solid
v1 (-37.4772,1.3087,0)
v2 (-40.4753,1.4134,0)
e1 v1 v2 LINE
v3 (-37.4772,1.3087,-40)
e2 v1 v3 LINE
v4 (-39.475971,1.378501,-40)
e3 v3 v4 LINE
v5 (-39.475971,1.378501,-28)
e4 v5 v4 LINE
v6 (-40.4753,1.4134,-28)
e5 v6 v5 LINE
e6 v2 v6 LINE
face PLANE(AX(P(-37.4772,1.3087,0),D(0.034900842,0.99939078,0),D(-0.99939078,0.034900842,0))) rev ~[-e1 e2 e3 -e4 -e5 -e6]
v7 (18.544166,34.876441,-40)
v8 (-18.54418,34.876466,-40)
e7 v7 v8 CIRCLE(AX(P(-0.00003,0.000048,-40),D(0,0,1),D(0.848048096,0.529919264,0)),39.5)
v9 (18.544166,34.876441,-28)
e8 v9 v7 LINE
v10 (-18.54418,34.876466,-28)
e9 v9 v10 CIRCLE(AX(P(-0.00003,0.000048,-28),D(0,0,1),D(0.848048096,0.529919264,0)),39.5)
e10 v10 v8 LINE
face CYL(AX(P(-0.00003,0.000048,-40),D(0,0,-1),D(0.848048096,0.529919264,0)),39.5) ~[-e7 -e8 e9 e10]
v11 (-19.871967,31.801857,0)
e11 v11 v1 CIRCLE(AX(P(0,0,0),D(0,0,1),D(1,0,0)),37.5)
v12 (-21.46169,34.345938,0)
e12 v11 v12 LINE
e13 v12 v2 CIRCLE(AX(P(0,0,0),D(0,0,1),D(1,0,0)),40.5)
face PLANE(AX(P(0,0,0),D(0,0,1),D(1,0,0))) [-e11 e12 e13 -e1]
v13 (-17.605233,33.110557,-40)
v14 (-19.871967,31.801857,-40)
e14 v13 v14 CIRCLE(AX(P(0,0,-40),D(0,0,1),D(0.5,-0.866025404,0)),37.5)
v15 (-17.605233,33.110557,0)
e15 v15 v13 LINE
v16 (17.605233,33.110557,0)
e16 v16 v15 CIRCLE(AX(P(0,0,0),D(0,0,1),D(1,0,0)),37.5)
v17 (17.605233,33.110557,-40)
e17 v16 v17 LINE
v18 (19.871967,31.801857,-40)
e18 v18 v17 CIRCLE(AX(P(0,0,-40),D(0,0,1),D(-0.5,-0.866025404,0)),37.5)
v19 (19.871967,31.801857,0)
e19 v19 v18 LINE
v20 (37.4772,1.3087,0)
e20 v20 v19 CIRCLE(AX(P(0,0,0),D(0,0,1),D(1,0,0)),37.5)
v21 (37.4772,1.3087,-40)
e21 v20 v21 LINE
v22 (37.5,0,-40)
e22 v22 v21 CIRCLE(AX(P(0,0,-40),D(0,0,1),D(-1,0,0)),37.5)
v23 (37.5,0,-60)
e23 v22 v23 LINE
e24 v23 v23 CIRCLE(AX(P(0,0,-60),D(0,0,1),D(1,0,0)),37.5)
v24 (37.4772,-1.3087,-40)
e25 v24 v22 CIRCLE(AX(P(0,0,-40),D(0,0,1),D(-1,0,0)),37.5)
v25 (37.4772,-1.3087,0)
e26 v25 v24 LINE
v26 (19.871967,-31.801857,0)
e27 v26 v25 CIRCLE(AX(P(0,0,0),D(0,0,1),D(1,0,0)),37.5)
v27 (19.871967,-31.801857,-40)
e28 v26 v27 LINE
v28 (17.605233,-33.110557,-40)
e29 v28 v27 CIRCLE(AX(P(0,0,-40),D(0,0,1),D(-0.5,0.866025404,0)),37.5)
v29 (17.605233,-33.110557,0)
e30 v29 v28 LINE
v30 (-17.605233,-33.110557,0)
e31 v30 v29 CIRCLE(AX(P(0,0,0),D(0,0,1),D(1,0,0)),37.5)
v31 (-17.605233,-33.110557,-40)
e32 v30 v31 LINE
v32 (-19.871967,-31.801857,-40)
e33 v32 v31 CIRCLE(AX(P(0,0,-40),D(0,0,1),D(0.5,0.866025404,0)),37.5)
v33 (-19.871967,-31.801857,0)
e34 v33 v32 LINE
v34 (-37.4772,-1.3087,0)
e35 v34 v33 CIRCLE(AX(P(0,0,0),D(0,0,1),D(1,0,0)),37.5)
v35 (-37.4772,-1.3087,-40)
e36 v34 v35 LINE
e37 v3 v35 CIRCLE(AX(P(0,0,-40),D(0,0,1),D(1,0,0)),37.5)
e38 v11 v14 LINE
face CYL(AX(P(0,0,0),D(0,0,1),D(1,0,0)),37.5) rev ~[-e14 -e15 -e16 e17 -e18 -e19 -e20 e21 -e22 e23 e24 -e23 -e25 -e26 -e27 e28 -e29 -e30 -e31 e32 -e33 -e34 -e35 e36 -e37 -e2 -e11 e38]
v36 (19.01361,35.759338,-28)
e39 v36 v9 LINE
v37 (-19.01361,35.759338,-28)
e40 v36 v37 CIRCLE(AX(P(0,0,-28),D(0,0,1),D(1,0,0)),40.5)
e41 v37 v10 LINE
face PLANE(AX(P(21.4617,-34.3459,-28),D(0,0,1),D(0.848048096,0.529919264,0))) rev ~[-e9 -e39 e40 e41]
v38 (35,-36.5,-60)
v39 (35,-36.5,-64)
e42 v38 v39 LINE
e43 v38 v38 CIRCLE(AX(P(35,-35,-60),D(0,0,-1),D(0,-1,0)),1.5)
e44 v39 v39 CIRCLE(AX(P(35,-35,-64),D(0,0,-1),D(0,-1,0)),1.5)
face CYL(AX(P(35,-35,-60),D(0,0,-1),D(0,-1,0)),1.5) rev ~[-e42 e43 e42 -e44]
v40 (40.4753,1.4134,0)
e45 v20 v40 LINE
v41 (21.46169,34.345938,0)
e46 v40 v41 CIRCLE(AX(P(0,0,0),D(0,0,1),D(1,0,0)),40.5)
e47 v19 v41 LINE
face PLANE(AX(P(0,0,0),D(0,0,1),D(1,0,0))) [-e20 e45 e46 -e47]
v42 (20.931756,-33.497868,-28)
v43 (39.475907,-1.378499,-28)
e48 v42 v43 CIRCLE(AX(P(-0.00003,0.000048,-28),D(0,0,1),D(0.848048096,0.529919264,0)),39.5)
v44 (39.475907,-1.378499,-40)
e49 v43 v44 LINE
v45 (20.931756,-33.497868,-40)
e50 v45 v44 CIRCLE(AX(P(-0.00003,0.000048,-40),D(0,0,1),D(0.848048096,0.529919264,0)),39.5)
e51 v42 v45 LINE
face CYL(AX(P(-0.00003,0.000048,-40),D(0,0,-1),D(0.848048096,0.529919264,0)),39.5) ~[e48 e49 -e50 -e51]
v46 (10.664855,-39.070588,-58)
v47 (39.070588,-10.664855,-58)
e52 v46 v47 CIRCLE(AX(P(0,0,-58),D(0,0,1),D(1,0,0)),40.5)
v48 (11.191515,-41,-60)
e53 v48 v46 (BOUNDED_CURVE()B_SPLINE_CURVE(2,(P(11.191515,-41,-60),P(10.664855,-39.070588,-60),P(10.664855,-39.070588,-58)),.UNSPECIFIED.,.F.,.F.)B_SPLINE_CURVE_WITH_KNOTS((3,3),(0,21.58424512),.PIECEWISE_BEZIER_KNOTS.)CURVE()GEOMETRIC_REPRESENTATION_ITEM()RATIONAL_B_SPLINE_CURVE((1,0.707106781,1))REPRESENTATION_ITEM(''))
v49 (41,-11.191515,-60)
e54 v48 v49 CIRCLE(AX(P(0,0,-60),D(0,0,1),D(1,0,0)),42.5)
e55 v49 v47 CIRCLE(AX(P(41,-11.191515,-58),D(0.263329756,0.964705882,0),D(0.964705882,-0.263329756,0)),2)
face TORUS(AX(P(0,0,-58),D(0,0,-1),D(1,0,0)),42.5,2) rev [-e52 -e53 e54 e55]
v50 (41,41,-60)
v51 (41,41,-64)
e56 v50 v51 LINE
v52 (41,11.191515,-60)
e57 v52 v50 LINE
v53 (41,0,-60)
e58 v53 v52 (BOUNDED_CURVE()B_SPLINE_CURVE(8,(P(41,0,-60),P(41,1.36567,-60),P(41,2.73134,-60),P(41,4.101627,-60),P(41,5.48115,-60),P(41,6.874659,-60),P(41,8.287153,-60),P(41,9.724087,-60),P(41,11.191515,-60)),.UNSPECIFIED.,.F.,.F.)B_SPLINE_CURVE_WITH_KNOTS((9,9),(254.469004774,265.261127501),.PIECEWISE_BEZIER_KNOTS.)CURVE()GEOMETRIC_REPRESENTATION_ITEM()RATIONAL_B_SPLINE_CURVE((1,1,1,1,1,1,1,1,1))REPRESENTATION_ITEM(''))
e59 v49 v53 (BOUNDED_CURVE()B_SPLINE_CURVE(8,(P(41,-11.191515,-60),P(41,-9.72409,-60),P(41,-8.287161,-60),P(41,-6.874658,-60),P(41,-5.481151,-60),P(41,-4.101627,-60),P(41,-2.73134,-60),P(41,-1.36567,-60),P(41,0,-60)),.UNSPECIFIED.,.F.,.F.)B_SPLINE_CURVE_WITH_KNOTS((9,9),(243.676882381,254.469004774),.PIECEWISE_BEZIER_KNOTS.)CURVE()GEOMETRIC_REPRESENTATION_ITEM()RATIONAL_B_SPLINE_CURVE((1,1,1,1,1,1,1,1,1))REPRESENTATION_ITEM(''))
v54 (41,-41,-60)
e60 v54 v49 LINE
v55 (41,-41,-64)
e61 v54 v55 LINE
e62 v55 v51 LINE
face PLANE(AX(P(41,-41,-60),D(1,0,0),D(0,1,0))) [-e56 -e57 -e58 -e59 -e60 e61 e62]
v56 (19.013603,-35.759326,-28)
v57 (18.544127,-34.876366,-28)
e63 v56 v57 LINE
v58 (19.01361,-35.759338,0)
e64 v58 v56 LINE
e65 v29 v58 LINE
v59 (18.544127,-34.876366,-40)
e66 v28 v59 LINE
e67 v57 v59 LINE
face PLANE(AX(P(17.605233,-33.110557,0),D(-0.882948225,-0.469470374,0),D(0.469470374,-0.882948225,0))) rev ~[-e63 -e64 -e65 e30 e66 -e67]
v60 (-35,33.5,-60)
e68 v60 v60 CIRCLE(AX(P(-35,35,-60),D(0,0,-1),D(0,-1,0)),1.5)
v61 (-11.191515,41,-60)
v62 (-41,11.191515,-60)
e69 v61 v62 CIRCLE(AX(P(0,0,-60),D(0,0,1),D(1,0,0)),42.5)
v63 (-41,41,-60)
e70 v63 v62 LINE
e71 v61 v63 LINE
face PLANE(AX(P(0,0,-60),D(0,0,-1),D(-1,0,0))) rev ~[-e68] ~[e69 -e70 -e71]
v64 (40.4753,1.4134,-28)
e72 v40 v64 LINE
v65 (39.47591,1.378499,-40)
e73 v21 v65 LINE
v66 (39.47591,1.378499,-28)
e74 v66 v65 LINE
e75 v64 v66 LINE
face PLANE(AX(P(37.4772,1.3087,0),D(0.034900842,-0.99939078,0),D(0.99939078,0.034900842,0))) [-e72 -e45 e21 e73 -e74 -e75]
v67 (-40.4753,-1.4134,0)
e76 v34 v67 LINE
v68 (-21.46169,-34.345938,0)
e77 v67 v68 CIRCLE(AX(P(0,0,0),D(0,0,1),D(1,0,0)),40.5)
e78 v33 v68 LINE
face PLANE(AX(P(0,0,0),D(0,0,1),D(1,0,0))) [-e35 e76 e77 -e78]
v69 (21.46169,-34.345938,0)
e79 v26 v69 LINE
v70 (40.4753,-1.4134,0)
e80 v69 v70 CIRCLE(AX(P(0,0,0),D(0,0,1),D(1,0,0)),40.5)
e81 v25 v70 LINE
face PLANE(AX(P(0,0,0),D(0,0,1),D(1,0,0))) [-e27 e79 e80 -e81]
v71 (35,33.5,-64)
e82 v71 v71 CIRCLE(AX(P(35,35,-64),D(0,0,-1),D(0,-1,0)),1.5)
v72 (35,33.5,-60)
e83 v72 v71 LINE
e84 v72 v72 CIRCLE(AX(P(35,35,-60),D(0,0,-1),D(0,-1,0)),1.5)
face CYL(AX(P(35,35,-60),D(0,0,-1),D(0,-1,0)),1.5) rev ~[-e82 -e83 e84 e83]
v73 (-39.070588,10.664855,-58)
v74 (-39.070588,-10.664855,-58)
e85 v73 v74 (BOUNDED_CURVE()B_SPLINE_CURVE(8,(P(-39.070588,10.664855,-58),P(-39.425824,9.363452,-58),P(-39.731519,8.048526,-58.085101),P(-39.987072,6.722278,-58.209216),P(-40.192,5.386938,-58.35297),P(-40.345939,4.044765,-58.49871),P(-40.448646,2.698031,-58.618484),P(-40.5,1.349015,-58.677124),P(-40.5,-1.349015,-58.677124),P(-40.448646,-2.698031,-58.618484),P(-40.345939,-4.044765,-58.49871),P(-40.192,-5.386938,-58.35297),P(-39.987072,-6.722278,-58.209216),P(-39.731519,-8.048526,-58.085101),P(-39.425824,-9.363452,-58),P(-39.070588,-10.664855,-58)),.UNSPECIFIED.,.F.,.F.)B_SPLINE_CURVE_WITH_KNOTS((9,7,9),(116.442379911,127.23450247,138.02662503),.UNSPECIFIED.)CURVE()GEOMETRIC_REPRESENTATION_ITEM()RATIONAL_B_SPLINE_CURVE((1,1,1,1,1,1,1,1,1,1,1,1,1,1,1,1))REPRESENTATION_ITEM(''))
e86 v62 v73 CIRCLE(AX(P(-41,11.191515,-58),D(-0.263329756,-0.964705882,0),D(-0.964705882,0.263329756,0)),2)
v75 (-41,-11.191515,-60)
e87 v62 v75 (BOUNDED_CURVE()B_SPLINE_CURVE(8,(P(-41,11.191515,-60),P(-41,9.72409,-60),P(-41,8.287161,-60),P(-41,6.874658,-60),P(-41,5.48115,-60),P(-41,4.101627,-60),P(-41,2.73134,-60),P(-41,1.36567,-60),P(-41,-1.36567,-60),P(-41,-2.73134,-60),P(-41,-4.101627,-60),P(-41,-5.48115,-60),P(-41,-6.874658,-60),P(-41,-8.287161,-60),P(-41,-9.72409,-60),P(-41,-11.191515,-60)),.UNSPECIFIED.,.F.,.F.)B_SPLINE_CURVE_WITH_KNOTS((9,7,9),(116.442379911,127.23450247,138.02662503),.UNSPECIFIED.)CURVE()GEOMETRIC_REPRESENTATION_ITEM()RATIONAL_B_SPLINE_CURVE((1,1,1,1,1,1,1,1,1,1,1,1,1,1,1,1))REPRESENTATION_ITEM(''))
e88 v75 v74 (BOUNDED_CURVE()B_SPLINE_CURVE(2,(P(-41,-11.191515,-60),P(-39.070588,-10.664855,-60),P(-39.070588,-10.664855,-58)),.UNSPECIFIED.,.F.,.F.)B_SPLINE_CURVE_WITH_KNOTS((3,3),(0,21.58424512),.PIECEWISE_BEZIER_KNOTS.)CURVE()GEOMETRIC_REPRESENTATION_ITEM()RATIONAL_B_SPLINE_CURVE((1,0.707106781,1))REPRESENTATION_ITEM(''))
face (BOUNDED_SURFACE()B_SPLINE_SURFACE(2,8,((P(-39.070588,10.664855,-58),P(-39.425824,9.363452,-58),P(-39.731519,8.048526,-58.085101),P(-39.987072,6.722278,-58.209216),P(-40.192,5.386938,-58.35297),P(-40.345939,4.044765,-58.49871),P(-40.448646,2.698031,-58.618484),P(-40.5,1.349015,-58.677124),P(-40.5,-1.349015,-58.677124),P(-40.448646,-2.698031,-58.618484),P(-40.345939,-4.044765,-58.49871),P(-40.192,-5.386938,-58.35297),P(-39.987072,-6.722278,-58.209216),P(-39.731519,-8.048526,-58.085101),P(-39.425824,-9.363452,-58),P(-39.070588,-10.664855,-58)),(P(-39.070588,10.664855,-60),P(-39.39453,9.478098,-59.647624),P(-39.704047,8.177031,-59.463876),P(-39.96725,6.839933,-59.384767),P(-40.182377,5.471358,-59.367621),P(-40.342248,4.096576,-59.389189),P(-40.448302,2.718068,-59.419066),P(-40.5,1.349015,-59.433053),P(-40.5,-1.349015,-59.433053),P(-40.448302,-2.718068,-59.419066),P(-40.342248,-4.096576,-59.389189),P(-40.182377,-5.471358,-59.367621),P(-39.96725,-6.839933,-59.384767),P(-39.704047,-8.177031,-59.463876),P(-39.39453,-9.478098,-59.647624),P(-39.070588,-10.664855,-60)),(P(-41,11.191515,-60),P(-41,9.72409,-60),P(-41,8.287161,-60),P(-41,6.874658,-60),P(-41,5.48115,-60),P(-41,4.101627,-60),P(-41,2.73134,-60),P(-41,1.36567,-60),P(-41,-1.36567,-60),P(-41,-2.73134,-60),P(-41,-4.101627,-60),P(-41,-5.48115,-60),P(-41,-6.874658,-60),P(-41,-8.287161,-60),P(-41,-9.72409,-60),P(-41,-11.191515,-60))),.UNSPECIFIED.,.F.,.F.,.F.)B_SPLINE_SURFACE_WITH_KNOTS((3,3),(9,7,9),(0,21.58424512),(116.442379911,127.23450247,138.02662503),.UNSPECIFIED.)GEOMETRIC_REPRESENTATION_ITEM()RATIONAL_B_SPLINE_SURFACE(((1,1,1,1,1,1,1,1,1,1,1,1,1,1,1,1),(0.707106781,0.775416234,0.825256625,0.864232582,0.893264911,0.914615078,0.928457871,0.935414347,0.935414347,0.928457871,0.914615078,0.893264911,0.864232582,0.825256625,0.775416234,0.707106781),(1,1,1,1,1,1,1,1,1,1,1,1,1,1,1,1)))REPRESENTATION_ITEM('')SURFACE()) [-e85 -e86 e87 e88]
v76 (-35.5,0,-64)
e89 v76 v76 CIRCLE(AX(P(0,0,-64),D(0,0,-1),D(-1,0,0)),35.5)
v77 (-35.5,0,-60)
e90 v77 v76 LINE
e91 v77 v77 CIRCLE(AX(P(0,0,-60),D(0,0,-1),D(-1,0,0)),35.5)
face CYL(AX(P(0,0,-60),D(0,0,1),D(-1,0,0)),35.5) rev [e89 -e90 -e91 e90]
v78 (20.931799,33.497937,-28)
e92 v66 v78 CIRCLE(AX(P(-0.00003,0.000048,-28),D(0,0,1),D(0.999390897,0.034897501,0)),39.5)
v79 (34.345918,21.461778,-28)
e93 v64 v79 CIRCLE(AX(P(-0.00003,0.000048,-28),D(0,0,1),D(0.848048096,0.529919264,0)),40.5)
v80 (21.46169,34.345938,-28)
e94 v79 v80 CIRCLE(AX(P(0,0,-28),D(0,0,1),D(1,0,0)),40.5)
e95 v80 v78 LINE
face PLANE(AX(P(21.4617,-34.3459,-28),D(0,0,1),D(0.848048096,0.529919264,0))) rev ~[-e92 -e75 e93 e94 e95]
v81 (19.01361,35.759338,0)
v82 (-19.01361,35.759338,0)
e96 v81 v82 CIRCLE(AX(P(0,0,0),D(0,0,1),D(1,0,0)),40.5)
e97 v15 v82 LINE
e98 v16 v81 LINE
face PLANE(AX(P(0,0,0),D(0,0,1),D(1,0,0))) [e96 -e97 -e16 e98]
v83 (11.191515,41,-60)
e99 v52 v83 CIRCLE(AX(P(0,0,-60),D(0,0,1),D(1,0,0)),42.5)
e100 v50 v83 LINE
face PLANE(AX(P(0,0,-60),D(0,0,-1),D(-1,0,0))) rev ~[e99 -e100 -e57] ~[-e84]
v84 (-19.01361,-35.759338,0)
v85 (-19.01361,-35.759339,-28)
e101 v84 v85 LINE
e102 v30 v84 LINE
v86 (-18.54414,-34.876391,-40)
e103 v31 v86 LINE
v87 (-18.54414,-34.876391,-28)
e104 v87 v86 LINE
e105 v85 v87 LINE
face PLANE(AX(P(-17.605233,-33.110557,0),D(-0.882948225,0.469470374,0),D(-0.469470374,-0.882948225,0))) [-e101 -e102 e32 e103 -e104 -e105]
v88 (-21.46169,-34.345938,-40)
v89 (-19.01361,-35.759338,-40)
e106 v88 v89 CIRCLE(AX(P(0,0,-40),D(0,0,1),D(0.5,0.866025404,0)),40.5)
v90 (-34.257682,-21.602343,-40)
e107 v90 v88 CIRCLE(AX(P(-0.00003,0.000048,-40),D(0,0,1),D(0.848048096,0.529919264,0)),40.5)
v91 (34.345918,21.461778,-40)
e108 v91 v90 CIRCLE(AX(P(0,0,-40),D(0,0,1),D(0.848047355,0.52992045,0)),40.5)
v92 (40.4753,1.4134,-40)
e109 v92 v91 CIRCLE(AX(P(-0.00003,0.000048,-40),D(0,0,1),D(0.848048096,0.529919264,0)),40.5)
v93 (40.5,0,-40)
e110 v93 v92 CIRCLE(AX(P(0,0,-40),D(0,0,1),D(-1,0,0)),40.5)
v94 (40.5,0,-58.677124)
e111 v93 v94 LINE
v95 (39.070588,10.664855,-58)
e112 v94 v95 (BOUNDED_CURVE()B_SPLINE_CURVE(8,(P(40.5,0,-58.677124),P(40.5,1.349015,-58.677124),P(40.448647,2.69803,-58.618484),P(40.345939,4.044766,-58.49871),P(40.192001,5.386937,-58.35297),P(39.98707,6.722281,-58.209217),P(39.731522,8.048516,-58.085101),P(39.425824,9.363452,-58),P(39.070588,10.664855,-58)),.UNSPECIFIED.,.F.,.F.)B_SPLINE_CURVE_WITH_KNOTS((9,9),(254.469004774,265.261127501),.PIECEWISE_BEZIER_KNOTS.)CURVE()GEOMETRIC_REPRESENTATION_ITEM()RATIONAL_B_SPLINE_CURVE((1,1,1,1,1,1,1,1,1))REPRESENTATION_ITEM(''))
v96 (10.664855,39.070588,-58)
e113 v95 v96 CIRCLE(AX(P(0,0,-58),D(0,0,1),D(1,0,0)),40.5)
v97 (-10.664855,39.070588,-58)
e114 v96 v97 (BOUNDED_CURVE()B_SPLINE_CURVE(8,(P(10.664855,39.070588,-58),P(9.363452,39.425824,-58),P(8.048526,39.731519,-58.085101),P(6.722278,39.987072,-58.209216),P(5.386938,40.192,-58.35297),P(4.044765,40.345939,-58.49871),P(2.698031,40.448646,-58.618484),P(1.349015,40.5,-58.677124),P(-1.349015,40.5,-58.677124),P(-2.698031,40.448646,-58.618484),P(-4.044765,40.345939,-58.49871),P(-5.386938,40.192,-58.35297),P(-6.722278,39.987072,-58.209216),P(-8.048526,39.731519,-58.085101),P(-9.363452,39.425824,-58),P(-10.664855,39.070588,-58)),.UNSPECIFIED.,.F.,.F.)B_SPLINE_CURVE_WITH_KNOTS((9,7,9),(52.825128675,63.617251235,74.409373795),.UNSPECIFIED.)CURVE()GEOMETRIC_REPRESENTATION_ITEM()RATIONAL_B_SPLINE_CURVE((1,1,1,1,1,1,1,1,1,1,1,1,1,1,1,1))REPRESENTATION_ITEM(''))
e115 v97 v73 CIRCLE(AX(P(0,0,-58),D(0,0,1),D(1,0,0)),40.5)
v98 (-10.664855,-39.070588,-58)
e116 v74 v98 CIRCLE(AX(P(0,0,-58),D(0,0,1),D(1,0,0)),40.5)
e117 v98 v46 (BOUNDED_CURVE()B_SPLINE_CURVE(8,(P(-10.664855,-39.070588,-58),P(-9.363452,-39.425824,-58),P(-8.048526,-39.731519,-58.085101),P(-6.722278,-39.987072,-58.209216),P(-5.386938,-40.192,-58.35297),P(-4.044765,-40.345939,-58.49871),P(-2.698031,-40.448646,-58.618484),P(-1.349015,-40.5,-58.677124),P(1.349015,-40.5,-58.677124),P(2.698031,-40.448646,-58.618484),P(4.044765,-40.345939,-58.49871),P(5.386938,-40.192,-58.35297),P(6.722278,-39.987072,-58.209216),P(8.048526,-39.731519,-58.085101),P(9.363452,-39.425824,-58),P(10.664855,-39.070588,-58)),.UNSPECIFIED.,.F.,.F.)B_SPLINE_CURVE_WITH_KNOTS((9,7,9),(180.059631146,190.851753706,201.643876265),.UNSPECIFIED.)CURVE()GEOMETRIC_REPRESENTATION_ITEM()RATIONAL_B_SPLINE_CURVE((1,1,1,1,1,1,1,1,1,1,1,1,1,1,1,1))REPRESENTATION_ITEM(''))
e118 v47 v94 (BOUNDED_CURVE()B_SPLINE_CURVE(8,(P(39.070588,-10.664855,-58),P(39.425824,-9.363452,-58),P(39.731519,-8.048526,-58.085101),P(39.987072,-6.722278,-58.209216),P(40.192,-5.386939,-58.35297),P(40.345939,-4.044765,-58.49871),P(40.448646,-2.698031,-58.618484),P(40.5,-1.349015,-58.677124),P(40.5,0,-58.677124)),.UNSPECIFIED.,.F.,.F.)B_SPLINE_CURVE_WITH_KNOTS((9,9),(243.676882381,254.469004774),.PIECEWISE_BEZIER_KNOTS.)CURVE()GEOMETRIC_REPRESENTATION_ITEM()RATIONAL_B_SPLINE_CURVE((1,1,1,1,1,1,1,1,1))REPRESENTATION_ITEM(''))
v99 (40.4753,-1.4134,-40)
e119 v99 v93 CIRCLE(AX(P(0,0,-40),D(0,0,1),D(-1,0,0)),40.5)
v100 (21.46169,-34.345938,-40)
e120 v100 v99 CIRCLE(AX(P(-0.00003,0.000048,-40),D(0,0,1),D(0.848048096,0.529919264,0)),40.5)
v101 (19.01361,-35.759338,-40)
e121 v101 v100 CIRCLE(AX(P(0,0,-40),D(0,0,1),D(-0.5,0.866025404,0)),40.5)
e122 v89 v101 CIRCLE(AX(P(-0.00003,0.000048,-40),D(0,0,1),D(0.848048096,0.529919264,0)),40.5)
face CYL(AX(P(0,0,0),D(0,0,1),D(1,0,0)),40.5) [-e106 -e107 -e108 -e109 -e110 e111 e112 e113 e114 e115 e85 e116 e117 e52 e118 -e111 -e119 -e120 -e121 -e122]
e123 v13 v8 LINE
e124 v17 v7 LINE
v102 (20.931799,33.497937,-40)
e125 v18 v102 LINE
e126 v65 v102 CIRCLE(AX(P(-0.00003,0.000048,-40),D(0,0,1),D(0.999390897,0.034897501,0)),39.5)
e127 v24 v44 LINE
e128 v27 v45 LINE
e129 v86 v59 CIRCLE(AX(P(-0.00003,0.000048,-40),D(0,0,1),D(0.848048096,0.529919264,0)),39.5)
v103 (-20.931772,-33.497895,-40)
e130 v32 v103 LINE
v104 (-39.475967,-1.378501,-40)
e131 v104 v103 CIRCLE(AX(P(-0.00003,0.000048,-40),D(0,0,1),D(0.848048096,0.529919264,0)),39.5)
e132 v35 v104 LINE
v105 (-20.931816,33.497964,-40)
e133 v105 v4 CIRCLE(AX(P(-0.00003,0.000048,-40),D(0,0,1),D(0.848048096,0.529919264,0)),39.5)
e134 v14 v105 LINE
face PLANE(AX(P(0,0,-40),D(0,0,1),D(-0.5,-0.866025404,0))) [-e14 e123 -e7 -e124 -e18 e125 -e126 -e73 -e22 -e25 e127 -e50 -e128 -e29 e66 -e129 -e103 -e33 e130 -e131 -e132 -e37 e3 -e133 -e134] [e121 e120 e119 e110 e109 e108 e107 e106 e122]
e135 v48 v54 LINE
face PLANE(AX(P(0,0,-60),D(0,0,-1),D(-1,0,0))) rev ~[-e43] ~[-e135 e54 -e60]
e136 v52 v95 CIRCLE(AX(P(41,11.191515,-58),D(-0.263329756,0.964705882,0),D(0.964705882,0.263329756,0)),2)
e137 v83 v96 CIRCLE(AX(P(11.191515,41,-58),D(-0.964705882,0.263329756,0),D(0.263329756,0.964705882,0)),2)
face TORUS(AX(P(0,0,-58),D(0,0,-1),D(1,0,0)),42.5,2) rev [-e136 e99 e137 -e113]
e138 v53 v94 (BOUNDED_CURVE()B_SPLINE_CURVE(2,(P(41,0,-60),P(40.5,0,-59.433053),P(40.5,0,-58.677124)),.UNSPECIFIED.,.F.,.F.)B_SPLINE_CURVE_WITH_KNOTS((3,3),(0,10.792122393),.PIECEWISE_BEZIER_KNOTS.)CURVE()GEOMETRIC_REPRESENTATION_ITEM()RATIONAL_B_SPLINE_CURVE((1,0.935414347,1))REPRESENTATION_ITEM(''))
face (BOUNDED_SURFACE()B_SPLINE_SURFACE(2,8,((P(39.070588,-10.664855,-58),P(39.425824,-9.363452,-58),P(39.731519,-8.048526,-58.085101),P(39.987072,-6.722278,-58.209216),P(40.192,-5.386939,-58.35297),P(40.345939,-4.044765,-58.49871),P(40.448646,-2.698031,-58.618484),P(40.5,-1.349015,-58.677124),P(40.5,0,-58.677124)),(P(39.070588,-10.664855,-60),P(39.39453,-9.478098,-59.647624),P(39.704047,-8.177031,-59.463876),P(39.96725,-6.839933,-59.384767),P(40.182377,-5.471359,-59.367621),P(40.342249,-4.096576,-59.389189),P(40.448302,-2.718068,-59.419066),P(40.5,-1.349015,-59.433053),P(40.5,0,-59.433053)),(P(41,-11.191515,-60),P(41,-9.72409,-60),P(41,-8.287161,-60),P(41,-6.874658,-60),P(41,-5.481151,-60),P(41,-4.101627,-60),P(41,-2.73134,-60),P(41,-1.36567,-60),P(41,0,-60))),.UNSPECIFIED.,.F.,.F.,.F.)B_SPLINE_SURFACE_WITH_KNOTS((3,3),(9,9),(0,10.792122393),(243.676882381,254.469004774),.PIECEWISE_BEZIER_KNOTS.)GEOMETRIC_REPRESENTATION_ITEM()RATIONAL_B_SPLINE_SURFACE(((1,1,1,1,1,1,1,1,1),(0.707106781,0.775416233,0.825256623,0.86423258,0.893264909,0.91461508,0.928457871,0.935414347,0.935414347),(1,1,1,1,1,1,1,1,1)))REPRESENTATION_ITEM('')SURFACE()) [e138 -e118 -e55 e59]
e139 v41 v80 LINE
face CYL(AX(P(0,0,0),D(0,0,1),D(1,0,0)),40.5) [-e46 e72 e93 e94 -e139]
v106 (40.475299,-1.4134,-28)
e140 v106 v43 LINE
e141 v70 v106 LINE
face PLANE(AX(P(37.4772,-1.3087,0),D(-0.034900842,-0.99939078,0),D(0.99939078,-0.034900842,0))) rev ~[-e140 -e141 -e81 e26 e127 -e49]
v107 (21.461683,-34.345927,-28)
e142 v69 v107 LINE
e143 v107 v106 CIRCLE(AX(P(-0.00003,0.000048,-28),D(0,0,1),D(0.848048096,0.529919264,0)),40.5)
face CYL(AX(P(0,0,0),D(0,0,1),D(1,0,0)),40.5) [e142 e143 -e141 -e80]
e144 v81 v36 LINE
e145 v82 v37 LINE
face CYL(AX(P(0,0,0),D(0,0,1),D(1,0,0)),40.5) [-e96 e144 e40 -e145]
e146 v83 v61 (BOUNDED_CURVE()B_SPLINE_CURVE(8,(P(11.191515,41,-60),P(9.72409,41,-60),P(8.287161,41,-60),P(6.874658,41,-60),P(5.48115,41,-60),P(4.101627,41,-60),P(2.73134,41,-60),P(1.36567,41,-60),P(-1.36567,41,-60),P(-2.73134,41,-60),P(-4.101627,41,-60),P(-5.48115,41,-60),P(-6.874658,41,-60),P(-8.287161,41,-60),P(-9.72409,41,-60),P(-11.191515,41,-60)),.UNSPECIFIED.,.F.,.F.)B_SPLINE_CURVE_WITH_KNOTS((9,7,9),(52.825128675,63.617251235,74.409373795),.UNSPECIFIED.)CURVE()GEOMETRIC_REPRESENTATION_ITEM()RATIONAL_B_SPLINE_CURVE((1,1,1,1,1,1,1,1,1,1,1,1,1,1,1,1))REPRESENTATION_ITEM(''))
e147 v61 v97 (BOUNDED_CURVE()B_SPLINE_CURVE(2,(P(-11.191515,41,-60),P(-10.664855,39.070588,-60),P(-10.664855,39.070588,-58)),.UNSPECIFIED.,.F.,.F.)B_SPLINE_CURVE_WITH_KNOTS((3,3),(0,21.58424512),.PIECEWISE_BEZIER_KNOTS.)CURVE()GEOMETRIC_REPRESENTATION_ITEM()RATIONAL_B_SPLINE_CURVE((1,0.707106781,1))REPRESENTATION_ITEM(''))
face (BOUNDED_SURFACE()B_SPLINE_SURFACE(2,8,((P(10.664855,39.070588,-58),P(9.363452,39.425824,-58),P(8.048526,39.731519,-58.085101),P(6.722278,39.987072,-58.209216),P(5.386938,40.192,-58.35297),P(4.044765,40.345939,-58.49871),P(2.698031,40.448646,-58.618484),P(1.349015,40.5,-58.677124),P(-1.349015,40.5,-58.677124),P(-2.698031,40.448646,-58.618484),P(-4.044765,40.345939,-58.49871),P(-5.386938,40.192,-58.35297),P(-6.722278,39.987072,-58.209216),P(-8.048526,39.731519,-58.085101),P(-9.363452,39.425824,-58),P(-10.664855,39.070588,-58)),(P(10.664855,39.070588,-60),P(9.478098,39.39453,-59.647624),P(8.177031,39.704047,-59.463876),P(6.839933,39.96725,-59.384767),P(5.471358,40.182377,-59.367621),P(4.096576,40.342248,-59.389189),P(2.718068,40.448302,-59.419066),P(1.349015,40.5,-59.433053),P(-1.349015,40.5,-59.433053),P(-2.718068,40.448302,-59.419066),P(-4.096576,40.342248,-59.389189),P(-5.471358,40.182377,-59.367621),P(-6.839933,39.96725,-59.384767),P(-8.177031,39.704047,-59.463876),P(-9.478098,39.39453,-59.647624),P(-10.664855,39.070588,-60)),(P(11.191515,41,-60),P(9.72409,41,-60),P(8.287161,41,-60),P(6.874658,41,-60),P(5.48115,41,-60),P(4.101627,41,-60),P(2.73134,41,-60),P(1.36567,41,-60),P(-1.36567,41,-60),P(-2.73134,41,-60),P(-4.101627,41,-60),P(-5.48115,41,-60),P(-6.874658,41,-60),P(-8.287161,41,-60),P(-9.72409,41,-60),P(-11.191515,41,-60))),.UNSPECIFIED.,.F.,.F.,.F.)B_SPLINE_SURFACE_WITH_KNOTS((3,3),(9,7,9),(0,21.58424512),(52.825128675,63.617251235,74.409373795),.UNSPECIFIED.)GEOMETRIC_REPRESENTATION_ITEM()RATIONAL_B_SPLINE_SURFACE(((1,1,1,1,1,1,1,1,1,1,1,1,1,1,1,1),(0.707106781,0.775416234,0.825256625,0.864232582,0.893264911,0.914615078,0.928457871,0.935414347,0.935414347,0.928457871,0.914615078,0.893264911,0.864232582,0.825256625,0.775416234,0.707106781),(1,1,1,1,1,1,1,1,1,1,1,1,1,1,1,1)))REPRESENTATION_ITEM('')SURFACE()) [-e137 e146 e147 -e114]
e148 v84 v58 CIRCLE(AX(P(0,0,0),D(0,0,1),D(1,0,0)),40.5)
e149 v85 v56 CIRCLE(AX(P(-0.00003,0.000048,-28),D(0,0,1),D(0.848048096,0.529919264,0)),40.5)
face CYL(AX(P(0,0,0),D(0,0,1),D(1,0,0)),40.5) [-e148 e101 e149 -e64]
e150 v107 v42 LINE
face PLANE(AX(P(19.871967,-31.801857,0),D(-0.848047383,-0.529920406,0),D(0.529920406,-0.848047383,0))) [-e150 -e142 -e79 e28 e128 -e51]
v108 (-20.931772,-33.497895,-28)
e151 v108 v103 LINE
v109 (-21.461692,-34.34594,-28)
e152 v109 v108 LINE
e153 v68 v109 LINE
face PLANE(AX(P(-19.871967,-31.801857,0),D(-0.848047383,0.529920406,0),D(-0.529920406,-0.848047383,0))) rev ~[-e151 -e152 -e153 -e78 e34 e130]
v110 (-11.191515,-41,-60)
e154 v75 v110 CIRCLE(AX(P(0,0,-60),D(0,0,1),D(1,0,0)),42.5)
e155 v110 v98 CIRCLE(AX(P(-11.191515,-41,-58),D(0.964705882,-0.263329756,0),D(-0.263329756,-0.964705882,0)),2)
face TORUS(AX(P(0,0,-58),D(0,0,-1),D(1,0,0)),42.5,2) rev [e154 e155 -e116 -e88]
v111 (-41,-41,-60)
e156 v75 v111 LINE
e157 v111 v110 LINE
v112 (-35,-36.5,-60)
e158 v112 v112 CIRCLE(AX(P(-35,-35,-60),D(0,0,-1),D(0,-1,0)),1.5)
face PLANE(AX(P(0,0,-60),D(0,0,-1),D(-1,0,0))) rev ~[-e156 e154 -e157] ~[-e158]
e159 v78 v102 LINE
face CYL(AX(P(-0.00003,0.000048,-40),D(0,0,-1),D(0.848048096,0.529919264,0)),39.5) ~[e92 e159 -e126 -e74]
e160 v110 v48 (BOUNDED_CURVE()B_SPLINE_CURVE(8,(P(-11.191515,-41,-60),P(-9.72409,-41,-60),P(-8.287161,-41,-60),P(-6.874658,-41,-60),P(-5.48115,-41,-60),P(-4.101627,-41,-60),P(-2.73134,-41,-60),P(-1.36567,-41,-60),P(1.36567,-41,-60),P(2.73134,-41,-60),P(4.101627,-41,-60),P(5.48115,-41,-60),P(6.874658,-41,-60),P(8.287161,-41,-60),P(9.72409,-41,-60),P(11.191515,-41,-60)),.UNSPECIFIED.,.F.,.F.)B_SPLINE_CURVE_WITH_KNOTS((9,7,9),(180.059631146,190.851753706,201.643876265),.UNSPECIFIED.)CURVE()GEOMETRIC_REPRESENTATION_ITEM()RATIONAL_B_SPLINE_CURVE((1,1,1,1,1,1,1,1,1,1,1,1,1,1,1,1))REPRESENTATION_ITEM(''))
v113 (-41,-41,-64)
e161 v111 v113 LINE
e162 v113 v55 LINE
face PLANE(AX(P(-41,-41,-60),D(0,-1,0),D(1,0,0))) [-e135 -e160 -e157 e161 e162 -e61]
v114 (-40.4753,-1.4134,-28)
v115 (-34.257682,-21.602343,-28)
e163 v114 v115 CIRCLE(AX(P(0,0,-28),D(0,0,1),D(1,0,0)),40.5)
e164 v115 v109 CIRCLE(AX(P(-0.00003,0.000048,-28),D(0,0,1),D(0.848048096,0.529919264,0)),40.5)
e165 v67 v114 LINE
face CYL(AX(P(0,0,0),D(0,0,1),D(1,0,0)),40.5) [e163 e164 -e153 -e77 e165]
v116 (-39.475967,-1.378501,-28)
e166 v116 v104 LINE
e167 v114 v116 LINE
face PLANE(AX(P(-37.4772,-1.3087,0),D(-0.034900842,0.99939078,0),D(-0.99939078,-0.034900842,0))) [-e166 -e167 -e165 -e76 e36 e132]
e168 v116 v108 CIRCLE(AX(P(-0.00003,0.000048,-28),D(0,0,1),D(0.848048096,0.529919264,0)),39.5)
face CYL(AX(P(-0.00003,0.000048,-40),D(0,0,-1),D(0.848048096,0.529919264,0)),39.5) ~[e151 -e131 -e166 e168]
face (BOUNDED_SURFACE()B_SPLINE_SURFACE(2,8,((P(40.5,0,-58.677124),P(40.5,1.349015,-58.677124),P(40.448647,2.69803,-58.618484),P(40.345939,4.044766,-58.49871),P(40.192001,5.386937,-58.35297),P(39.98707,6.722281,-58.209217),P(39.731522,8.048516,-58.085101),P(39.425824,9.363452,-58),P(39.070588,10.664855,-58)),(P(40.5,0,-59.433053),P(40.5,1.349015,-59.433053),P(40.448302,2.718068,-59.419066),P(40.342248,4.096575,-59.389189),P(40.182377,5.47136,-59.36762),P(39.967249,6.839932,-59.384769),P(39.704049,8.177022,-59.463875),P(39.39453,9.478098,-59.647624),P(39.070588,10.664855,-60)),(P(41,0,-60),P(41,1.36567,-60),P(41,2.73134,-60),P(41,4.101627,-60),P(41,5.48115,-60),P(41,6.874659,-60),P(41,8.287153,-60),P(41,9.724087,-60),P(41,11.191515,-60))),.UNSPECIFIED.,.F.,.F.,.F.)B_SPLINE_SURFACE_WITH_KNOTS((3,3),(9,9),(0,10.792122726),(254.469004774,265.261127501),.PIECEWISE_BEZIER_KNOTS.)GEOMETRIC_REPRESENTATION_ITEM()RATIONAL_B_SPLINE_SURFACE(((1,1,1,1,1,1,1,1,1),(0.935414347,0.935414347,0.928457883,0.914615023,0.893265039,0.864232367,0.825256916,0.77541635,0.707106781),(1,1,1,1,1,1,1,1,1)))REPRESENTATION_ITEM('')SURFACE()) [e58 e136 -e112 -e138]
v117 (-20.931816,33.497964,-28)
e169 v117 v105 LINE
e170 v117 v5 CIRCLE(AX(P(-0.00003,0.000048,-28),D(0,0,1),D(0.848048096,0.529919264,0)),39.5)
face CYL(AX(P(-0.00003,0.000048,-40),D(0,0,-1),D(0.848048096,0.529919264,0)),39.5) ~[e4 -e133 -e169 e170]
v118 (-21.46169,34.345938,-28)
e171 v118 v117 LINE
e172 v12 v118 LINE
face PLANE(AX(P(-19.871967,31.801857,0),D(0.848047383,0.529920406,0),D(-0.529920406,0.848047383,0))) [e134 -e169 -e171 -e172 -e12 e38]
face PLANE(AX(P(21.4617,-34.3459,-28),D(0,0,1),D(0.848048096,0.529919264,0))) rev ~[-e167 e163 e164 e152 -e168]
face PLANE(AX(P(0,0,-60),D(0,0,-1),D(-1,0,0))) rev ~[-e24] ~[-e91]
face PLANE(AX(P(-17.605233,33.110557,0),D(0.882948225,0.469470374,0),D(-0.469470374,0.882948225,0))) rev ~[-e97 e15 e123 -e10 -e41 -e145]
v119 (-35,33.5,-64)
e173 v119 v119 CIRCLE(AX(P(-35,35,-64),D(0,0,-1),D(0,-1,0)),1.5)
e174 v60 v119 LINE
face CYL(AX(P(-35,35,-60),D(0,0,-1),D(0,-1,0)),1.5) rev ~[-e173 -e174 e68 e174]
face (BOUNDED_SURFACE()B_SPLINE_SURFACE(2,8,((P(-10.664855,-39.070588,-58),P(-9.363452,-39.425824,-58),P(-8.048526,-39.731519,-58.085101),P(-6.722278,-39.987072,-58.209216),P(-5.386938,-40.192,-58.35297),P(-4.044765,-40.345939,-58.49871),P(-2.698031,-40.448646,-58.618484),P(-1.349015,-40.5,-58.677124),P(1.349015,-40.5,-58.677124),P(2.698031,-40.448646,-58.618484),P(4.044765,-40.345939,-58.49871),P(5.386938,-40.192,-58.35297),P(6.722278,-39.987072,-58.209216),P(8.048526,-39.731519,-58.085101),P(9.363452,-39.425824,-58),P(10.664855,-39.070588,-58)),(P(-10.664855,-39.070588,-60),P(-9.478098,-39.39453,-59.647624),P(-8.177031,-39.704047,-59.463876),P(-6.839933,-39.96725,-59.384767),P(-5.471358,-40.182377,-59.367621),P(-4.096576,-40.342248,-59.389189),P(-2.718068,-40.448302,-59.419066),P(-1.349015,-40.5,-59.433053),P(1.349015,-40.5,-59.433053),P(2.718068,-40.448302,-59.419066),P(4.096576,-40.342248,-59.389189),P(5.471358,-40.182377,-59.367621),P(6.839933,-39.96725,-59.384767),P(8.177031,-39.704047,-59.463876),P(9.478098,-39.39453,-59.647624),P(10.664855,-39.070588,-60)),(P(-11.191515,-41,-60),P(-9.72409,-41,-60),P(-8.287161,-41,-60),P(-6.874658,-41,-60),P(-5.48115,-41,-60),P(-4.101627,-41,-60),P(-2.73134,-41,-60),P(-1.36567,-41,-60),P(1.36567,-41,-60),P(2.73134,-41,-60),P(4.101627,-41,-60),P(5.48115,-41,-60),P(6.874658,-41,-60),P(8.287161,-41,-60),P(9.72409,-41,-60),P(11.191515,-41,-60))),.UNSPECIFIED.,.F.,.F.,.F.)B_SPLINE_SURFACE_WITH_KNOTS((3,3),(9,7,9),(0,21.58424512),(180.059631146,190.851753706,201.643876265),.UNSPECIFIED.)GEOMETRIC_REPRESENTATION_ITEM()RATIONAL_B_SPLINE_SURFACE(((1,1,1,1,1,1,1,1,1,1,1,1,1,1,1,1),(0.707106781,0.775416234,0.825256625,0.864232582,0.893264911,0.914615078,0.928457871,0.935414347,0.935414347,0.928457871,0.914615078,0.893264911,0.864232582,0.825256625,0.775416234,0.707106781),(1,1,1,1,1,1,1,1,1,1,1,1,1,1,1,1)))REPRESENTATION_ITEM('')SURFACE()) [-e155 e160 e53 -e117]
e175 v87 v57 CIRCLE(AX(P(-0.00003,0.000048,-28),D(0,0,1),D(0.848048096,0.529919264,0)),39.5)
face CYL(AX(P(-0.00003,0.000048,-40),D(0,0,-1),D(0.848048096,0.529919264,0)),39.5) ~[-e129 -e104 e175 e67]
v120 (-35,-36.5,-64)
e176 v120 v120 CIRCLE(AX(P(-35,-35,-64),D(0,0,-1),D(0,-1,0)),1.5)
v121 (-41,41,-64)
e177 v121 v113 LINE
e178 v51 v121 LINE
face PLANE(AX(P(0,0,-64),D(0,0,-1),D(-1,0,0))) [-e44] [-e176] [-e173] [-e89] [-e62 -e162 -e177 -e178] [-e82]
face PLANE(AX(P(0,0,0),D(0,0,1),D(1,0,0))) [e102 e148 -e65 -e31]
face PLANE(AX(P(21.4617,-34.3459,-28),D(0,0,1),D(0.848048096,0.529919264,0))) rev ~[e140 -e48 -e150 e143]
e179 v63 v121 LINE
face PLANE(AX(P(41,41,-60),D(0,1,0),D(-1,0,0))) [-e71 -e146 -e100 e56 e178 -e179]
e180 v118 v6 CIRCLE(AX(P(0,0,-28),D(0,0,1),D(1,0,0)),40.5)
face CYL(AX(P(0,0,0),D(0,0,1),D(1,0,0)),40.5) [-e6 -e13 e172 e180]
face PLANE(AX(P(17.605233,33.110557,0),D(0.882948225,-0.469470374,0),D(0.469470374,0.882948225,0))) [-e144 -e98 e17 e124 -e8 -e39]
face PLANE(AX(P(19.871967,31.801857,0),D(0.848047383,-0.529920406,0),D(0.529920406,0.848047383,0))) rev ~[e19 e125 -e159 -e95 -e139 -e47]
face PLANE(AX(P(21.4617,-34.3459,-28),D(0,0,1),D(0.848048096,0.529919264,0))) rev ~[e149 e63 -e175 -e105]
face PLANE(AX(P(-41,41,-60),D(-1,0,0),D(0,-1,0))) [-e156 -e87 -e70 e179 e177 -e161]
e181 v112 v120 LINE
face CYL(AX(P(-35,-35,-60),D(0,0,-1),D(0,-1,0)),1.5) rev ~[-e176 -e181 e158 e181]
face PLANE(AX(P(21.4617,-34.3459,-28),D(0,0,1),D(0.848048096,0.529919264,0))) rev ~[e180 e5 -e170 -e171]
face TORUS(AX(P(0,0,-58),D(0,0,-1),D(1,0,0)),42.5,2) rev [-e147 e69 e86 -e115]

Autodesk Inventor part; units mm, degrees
ref_plane "YZ Plane" through (0, 0, 0) normal (1, 0, 0) x (0, 1, 0)
ref_plane "XZ Plane" through (0, 0, 0) normal (0, 1, 0) x (-1, 0, 0)
ref_plane "XY Plane" through (0, 0, 0) normal (0, 0, 1) x (1, 0, 0)
sketch "Sketch1" plane through (0, 0, 0) normal (0, 0, 1) x (1, 0, 0)
  circle A0 centre (0, 0) radius 37.5 projected
  circle A1 centre (0, 0) radius 40.5
  point P0 (0, 0)
  dimension "d0" = 3
extrude "Extrusion1" add sketch "Sketch1" against normal blind 60
sketch "Sketch8" plane through (0, 0, 0) normal (0, 0, 1) x (1, 0, 0)
  line L0 (0, 0) -> (-46.6973, 0) construction
  line L1 (0, 0) -> (-40.4753, 1.4134) construction
  circle A0 centre (0, 0) radius 40.5 projected
  line L2 (0, 0) -> (-40.4753, -1.4134) construction
  circle A1 centre (0, 0) radius 37.5 projected
  line L3 (-37.4772, -1.3087) -> (-40.4753, -1.4134)
  line L4 (-37.4772, 1.3087) -> (-40.4753, 1.4134)
  dimension "d30" = 4
extrude "Extrusion9" cut sketch "Sketch8" against normal blind 40 contours L4 A1 L3 A0 picked at (-39.4973, -0.1454)
pattern_circular "Circular Pattern2" count 6 over 360 about axis through (0, 0, 0) along (0, 0, -1) of "Extrusion9"
sketch "Sketch9" plane through (21.4617, -34.3459, -40) normal (0, 0, 1) x (0.848, 0.5299, 0)
  circle A0 centre (0, 40.5) radius 37.5 construction
  circle A1 centre (0, 40.5) radius 40.5 projected
  circle A2 centre (0, 40.5) radius 39.5
  point P0 (0, 40.5)
  dimension "d36" = 1
extrude "Extrusion10" cut sketch "Sketch9" along normal blind 12
sketch "Sketch10" plane through (0, 0, -60) normal (0, 0, -1) x (-1, 0, 0)
  line L0 (41, -41) -> (-41, -41)
  line L1 (-41, -41) -> (-41, 41)
  line L2 (-41, 41) -> (41, 41)
  line L3 (41, 41) -> (41, -41)
  line L4 (41, -41) -> (-41, 41) construction
  line L5 (-41, -41) -> (41, 41) construction
  circle A0 centre (0, 0) radius 37.5 construction
  circle A1 centre (0, 0) radius 35.5
  point P0 (0, 0)
  dimension "d39" = 82
  dimension "d40" = 82
  dimension "d41" = 2
extrude "Extrusion11" add sketch "Sketch10" along normal blind 4
sketch "Sketch11" plane through (0, 0, -60) normal (0, 0, 1) x (1, 0, 0)
  line L0 (-41, 41) -> (-41, -41) construction
  line L1 (-41, -41) -> (41, -41) construction
  line L2 (41, -41) -> (41, 41) construction
  line L3 (41, 41) -> (-41, 41) construction
  line L4 (-35, -35) -> (-35, 35) construction
  line L5 (-35, 35) -> (35, 35) construction
  line L6 (35, 35) -> (35, -35) construction
  line L7 (35, -35) -> (-35, -35) construction
  point P0 (0, 0)
  dimension "d44" = 6
hole "Hole1" at (-35, -35, -60) at (-35, 35, -60) at (35, 35, -60) at (35, -35, -60) direction (0, 0, -1) diameter 3 end through all
fillet "Fillet2" radius 2 1 edges at (-40.5, 0, -60)
sketch "Sketch7" plane through (0, 0, -5) normal (0, 0, -1) x (-1, 0, 0)
  circle A0 centre (0, 0) radius 40.5 projected
  circle A1 centre (0, 0) radius 39.5
  point P0 (0, 0)
  dimension "d27" = 1
properties part number "Cup_Dispenser_Flip_Flop"
